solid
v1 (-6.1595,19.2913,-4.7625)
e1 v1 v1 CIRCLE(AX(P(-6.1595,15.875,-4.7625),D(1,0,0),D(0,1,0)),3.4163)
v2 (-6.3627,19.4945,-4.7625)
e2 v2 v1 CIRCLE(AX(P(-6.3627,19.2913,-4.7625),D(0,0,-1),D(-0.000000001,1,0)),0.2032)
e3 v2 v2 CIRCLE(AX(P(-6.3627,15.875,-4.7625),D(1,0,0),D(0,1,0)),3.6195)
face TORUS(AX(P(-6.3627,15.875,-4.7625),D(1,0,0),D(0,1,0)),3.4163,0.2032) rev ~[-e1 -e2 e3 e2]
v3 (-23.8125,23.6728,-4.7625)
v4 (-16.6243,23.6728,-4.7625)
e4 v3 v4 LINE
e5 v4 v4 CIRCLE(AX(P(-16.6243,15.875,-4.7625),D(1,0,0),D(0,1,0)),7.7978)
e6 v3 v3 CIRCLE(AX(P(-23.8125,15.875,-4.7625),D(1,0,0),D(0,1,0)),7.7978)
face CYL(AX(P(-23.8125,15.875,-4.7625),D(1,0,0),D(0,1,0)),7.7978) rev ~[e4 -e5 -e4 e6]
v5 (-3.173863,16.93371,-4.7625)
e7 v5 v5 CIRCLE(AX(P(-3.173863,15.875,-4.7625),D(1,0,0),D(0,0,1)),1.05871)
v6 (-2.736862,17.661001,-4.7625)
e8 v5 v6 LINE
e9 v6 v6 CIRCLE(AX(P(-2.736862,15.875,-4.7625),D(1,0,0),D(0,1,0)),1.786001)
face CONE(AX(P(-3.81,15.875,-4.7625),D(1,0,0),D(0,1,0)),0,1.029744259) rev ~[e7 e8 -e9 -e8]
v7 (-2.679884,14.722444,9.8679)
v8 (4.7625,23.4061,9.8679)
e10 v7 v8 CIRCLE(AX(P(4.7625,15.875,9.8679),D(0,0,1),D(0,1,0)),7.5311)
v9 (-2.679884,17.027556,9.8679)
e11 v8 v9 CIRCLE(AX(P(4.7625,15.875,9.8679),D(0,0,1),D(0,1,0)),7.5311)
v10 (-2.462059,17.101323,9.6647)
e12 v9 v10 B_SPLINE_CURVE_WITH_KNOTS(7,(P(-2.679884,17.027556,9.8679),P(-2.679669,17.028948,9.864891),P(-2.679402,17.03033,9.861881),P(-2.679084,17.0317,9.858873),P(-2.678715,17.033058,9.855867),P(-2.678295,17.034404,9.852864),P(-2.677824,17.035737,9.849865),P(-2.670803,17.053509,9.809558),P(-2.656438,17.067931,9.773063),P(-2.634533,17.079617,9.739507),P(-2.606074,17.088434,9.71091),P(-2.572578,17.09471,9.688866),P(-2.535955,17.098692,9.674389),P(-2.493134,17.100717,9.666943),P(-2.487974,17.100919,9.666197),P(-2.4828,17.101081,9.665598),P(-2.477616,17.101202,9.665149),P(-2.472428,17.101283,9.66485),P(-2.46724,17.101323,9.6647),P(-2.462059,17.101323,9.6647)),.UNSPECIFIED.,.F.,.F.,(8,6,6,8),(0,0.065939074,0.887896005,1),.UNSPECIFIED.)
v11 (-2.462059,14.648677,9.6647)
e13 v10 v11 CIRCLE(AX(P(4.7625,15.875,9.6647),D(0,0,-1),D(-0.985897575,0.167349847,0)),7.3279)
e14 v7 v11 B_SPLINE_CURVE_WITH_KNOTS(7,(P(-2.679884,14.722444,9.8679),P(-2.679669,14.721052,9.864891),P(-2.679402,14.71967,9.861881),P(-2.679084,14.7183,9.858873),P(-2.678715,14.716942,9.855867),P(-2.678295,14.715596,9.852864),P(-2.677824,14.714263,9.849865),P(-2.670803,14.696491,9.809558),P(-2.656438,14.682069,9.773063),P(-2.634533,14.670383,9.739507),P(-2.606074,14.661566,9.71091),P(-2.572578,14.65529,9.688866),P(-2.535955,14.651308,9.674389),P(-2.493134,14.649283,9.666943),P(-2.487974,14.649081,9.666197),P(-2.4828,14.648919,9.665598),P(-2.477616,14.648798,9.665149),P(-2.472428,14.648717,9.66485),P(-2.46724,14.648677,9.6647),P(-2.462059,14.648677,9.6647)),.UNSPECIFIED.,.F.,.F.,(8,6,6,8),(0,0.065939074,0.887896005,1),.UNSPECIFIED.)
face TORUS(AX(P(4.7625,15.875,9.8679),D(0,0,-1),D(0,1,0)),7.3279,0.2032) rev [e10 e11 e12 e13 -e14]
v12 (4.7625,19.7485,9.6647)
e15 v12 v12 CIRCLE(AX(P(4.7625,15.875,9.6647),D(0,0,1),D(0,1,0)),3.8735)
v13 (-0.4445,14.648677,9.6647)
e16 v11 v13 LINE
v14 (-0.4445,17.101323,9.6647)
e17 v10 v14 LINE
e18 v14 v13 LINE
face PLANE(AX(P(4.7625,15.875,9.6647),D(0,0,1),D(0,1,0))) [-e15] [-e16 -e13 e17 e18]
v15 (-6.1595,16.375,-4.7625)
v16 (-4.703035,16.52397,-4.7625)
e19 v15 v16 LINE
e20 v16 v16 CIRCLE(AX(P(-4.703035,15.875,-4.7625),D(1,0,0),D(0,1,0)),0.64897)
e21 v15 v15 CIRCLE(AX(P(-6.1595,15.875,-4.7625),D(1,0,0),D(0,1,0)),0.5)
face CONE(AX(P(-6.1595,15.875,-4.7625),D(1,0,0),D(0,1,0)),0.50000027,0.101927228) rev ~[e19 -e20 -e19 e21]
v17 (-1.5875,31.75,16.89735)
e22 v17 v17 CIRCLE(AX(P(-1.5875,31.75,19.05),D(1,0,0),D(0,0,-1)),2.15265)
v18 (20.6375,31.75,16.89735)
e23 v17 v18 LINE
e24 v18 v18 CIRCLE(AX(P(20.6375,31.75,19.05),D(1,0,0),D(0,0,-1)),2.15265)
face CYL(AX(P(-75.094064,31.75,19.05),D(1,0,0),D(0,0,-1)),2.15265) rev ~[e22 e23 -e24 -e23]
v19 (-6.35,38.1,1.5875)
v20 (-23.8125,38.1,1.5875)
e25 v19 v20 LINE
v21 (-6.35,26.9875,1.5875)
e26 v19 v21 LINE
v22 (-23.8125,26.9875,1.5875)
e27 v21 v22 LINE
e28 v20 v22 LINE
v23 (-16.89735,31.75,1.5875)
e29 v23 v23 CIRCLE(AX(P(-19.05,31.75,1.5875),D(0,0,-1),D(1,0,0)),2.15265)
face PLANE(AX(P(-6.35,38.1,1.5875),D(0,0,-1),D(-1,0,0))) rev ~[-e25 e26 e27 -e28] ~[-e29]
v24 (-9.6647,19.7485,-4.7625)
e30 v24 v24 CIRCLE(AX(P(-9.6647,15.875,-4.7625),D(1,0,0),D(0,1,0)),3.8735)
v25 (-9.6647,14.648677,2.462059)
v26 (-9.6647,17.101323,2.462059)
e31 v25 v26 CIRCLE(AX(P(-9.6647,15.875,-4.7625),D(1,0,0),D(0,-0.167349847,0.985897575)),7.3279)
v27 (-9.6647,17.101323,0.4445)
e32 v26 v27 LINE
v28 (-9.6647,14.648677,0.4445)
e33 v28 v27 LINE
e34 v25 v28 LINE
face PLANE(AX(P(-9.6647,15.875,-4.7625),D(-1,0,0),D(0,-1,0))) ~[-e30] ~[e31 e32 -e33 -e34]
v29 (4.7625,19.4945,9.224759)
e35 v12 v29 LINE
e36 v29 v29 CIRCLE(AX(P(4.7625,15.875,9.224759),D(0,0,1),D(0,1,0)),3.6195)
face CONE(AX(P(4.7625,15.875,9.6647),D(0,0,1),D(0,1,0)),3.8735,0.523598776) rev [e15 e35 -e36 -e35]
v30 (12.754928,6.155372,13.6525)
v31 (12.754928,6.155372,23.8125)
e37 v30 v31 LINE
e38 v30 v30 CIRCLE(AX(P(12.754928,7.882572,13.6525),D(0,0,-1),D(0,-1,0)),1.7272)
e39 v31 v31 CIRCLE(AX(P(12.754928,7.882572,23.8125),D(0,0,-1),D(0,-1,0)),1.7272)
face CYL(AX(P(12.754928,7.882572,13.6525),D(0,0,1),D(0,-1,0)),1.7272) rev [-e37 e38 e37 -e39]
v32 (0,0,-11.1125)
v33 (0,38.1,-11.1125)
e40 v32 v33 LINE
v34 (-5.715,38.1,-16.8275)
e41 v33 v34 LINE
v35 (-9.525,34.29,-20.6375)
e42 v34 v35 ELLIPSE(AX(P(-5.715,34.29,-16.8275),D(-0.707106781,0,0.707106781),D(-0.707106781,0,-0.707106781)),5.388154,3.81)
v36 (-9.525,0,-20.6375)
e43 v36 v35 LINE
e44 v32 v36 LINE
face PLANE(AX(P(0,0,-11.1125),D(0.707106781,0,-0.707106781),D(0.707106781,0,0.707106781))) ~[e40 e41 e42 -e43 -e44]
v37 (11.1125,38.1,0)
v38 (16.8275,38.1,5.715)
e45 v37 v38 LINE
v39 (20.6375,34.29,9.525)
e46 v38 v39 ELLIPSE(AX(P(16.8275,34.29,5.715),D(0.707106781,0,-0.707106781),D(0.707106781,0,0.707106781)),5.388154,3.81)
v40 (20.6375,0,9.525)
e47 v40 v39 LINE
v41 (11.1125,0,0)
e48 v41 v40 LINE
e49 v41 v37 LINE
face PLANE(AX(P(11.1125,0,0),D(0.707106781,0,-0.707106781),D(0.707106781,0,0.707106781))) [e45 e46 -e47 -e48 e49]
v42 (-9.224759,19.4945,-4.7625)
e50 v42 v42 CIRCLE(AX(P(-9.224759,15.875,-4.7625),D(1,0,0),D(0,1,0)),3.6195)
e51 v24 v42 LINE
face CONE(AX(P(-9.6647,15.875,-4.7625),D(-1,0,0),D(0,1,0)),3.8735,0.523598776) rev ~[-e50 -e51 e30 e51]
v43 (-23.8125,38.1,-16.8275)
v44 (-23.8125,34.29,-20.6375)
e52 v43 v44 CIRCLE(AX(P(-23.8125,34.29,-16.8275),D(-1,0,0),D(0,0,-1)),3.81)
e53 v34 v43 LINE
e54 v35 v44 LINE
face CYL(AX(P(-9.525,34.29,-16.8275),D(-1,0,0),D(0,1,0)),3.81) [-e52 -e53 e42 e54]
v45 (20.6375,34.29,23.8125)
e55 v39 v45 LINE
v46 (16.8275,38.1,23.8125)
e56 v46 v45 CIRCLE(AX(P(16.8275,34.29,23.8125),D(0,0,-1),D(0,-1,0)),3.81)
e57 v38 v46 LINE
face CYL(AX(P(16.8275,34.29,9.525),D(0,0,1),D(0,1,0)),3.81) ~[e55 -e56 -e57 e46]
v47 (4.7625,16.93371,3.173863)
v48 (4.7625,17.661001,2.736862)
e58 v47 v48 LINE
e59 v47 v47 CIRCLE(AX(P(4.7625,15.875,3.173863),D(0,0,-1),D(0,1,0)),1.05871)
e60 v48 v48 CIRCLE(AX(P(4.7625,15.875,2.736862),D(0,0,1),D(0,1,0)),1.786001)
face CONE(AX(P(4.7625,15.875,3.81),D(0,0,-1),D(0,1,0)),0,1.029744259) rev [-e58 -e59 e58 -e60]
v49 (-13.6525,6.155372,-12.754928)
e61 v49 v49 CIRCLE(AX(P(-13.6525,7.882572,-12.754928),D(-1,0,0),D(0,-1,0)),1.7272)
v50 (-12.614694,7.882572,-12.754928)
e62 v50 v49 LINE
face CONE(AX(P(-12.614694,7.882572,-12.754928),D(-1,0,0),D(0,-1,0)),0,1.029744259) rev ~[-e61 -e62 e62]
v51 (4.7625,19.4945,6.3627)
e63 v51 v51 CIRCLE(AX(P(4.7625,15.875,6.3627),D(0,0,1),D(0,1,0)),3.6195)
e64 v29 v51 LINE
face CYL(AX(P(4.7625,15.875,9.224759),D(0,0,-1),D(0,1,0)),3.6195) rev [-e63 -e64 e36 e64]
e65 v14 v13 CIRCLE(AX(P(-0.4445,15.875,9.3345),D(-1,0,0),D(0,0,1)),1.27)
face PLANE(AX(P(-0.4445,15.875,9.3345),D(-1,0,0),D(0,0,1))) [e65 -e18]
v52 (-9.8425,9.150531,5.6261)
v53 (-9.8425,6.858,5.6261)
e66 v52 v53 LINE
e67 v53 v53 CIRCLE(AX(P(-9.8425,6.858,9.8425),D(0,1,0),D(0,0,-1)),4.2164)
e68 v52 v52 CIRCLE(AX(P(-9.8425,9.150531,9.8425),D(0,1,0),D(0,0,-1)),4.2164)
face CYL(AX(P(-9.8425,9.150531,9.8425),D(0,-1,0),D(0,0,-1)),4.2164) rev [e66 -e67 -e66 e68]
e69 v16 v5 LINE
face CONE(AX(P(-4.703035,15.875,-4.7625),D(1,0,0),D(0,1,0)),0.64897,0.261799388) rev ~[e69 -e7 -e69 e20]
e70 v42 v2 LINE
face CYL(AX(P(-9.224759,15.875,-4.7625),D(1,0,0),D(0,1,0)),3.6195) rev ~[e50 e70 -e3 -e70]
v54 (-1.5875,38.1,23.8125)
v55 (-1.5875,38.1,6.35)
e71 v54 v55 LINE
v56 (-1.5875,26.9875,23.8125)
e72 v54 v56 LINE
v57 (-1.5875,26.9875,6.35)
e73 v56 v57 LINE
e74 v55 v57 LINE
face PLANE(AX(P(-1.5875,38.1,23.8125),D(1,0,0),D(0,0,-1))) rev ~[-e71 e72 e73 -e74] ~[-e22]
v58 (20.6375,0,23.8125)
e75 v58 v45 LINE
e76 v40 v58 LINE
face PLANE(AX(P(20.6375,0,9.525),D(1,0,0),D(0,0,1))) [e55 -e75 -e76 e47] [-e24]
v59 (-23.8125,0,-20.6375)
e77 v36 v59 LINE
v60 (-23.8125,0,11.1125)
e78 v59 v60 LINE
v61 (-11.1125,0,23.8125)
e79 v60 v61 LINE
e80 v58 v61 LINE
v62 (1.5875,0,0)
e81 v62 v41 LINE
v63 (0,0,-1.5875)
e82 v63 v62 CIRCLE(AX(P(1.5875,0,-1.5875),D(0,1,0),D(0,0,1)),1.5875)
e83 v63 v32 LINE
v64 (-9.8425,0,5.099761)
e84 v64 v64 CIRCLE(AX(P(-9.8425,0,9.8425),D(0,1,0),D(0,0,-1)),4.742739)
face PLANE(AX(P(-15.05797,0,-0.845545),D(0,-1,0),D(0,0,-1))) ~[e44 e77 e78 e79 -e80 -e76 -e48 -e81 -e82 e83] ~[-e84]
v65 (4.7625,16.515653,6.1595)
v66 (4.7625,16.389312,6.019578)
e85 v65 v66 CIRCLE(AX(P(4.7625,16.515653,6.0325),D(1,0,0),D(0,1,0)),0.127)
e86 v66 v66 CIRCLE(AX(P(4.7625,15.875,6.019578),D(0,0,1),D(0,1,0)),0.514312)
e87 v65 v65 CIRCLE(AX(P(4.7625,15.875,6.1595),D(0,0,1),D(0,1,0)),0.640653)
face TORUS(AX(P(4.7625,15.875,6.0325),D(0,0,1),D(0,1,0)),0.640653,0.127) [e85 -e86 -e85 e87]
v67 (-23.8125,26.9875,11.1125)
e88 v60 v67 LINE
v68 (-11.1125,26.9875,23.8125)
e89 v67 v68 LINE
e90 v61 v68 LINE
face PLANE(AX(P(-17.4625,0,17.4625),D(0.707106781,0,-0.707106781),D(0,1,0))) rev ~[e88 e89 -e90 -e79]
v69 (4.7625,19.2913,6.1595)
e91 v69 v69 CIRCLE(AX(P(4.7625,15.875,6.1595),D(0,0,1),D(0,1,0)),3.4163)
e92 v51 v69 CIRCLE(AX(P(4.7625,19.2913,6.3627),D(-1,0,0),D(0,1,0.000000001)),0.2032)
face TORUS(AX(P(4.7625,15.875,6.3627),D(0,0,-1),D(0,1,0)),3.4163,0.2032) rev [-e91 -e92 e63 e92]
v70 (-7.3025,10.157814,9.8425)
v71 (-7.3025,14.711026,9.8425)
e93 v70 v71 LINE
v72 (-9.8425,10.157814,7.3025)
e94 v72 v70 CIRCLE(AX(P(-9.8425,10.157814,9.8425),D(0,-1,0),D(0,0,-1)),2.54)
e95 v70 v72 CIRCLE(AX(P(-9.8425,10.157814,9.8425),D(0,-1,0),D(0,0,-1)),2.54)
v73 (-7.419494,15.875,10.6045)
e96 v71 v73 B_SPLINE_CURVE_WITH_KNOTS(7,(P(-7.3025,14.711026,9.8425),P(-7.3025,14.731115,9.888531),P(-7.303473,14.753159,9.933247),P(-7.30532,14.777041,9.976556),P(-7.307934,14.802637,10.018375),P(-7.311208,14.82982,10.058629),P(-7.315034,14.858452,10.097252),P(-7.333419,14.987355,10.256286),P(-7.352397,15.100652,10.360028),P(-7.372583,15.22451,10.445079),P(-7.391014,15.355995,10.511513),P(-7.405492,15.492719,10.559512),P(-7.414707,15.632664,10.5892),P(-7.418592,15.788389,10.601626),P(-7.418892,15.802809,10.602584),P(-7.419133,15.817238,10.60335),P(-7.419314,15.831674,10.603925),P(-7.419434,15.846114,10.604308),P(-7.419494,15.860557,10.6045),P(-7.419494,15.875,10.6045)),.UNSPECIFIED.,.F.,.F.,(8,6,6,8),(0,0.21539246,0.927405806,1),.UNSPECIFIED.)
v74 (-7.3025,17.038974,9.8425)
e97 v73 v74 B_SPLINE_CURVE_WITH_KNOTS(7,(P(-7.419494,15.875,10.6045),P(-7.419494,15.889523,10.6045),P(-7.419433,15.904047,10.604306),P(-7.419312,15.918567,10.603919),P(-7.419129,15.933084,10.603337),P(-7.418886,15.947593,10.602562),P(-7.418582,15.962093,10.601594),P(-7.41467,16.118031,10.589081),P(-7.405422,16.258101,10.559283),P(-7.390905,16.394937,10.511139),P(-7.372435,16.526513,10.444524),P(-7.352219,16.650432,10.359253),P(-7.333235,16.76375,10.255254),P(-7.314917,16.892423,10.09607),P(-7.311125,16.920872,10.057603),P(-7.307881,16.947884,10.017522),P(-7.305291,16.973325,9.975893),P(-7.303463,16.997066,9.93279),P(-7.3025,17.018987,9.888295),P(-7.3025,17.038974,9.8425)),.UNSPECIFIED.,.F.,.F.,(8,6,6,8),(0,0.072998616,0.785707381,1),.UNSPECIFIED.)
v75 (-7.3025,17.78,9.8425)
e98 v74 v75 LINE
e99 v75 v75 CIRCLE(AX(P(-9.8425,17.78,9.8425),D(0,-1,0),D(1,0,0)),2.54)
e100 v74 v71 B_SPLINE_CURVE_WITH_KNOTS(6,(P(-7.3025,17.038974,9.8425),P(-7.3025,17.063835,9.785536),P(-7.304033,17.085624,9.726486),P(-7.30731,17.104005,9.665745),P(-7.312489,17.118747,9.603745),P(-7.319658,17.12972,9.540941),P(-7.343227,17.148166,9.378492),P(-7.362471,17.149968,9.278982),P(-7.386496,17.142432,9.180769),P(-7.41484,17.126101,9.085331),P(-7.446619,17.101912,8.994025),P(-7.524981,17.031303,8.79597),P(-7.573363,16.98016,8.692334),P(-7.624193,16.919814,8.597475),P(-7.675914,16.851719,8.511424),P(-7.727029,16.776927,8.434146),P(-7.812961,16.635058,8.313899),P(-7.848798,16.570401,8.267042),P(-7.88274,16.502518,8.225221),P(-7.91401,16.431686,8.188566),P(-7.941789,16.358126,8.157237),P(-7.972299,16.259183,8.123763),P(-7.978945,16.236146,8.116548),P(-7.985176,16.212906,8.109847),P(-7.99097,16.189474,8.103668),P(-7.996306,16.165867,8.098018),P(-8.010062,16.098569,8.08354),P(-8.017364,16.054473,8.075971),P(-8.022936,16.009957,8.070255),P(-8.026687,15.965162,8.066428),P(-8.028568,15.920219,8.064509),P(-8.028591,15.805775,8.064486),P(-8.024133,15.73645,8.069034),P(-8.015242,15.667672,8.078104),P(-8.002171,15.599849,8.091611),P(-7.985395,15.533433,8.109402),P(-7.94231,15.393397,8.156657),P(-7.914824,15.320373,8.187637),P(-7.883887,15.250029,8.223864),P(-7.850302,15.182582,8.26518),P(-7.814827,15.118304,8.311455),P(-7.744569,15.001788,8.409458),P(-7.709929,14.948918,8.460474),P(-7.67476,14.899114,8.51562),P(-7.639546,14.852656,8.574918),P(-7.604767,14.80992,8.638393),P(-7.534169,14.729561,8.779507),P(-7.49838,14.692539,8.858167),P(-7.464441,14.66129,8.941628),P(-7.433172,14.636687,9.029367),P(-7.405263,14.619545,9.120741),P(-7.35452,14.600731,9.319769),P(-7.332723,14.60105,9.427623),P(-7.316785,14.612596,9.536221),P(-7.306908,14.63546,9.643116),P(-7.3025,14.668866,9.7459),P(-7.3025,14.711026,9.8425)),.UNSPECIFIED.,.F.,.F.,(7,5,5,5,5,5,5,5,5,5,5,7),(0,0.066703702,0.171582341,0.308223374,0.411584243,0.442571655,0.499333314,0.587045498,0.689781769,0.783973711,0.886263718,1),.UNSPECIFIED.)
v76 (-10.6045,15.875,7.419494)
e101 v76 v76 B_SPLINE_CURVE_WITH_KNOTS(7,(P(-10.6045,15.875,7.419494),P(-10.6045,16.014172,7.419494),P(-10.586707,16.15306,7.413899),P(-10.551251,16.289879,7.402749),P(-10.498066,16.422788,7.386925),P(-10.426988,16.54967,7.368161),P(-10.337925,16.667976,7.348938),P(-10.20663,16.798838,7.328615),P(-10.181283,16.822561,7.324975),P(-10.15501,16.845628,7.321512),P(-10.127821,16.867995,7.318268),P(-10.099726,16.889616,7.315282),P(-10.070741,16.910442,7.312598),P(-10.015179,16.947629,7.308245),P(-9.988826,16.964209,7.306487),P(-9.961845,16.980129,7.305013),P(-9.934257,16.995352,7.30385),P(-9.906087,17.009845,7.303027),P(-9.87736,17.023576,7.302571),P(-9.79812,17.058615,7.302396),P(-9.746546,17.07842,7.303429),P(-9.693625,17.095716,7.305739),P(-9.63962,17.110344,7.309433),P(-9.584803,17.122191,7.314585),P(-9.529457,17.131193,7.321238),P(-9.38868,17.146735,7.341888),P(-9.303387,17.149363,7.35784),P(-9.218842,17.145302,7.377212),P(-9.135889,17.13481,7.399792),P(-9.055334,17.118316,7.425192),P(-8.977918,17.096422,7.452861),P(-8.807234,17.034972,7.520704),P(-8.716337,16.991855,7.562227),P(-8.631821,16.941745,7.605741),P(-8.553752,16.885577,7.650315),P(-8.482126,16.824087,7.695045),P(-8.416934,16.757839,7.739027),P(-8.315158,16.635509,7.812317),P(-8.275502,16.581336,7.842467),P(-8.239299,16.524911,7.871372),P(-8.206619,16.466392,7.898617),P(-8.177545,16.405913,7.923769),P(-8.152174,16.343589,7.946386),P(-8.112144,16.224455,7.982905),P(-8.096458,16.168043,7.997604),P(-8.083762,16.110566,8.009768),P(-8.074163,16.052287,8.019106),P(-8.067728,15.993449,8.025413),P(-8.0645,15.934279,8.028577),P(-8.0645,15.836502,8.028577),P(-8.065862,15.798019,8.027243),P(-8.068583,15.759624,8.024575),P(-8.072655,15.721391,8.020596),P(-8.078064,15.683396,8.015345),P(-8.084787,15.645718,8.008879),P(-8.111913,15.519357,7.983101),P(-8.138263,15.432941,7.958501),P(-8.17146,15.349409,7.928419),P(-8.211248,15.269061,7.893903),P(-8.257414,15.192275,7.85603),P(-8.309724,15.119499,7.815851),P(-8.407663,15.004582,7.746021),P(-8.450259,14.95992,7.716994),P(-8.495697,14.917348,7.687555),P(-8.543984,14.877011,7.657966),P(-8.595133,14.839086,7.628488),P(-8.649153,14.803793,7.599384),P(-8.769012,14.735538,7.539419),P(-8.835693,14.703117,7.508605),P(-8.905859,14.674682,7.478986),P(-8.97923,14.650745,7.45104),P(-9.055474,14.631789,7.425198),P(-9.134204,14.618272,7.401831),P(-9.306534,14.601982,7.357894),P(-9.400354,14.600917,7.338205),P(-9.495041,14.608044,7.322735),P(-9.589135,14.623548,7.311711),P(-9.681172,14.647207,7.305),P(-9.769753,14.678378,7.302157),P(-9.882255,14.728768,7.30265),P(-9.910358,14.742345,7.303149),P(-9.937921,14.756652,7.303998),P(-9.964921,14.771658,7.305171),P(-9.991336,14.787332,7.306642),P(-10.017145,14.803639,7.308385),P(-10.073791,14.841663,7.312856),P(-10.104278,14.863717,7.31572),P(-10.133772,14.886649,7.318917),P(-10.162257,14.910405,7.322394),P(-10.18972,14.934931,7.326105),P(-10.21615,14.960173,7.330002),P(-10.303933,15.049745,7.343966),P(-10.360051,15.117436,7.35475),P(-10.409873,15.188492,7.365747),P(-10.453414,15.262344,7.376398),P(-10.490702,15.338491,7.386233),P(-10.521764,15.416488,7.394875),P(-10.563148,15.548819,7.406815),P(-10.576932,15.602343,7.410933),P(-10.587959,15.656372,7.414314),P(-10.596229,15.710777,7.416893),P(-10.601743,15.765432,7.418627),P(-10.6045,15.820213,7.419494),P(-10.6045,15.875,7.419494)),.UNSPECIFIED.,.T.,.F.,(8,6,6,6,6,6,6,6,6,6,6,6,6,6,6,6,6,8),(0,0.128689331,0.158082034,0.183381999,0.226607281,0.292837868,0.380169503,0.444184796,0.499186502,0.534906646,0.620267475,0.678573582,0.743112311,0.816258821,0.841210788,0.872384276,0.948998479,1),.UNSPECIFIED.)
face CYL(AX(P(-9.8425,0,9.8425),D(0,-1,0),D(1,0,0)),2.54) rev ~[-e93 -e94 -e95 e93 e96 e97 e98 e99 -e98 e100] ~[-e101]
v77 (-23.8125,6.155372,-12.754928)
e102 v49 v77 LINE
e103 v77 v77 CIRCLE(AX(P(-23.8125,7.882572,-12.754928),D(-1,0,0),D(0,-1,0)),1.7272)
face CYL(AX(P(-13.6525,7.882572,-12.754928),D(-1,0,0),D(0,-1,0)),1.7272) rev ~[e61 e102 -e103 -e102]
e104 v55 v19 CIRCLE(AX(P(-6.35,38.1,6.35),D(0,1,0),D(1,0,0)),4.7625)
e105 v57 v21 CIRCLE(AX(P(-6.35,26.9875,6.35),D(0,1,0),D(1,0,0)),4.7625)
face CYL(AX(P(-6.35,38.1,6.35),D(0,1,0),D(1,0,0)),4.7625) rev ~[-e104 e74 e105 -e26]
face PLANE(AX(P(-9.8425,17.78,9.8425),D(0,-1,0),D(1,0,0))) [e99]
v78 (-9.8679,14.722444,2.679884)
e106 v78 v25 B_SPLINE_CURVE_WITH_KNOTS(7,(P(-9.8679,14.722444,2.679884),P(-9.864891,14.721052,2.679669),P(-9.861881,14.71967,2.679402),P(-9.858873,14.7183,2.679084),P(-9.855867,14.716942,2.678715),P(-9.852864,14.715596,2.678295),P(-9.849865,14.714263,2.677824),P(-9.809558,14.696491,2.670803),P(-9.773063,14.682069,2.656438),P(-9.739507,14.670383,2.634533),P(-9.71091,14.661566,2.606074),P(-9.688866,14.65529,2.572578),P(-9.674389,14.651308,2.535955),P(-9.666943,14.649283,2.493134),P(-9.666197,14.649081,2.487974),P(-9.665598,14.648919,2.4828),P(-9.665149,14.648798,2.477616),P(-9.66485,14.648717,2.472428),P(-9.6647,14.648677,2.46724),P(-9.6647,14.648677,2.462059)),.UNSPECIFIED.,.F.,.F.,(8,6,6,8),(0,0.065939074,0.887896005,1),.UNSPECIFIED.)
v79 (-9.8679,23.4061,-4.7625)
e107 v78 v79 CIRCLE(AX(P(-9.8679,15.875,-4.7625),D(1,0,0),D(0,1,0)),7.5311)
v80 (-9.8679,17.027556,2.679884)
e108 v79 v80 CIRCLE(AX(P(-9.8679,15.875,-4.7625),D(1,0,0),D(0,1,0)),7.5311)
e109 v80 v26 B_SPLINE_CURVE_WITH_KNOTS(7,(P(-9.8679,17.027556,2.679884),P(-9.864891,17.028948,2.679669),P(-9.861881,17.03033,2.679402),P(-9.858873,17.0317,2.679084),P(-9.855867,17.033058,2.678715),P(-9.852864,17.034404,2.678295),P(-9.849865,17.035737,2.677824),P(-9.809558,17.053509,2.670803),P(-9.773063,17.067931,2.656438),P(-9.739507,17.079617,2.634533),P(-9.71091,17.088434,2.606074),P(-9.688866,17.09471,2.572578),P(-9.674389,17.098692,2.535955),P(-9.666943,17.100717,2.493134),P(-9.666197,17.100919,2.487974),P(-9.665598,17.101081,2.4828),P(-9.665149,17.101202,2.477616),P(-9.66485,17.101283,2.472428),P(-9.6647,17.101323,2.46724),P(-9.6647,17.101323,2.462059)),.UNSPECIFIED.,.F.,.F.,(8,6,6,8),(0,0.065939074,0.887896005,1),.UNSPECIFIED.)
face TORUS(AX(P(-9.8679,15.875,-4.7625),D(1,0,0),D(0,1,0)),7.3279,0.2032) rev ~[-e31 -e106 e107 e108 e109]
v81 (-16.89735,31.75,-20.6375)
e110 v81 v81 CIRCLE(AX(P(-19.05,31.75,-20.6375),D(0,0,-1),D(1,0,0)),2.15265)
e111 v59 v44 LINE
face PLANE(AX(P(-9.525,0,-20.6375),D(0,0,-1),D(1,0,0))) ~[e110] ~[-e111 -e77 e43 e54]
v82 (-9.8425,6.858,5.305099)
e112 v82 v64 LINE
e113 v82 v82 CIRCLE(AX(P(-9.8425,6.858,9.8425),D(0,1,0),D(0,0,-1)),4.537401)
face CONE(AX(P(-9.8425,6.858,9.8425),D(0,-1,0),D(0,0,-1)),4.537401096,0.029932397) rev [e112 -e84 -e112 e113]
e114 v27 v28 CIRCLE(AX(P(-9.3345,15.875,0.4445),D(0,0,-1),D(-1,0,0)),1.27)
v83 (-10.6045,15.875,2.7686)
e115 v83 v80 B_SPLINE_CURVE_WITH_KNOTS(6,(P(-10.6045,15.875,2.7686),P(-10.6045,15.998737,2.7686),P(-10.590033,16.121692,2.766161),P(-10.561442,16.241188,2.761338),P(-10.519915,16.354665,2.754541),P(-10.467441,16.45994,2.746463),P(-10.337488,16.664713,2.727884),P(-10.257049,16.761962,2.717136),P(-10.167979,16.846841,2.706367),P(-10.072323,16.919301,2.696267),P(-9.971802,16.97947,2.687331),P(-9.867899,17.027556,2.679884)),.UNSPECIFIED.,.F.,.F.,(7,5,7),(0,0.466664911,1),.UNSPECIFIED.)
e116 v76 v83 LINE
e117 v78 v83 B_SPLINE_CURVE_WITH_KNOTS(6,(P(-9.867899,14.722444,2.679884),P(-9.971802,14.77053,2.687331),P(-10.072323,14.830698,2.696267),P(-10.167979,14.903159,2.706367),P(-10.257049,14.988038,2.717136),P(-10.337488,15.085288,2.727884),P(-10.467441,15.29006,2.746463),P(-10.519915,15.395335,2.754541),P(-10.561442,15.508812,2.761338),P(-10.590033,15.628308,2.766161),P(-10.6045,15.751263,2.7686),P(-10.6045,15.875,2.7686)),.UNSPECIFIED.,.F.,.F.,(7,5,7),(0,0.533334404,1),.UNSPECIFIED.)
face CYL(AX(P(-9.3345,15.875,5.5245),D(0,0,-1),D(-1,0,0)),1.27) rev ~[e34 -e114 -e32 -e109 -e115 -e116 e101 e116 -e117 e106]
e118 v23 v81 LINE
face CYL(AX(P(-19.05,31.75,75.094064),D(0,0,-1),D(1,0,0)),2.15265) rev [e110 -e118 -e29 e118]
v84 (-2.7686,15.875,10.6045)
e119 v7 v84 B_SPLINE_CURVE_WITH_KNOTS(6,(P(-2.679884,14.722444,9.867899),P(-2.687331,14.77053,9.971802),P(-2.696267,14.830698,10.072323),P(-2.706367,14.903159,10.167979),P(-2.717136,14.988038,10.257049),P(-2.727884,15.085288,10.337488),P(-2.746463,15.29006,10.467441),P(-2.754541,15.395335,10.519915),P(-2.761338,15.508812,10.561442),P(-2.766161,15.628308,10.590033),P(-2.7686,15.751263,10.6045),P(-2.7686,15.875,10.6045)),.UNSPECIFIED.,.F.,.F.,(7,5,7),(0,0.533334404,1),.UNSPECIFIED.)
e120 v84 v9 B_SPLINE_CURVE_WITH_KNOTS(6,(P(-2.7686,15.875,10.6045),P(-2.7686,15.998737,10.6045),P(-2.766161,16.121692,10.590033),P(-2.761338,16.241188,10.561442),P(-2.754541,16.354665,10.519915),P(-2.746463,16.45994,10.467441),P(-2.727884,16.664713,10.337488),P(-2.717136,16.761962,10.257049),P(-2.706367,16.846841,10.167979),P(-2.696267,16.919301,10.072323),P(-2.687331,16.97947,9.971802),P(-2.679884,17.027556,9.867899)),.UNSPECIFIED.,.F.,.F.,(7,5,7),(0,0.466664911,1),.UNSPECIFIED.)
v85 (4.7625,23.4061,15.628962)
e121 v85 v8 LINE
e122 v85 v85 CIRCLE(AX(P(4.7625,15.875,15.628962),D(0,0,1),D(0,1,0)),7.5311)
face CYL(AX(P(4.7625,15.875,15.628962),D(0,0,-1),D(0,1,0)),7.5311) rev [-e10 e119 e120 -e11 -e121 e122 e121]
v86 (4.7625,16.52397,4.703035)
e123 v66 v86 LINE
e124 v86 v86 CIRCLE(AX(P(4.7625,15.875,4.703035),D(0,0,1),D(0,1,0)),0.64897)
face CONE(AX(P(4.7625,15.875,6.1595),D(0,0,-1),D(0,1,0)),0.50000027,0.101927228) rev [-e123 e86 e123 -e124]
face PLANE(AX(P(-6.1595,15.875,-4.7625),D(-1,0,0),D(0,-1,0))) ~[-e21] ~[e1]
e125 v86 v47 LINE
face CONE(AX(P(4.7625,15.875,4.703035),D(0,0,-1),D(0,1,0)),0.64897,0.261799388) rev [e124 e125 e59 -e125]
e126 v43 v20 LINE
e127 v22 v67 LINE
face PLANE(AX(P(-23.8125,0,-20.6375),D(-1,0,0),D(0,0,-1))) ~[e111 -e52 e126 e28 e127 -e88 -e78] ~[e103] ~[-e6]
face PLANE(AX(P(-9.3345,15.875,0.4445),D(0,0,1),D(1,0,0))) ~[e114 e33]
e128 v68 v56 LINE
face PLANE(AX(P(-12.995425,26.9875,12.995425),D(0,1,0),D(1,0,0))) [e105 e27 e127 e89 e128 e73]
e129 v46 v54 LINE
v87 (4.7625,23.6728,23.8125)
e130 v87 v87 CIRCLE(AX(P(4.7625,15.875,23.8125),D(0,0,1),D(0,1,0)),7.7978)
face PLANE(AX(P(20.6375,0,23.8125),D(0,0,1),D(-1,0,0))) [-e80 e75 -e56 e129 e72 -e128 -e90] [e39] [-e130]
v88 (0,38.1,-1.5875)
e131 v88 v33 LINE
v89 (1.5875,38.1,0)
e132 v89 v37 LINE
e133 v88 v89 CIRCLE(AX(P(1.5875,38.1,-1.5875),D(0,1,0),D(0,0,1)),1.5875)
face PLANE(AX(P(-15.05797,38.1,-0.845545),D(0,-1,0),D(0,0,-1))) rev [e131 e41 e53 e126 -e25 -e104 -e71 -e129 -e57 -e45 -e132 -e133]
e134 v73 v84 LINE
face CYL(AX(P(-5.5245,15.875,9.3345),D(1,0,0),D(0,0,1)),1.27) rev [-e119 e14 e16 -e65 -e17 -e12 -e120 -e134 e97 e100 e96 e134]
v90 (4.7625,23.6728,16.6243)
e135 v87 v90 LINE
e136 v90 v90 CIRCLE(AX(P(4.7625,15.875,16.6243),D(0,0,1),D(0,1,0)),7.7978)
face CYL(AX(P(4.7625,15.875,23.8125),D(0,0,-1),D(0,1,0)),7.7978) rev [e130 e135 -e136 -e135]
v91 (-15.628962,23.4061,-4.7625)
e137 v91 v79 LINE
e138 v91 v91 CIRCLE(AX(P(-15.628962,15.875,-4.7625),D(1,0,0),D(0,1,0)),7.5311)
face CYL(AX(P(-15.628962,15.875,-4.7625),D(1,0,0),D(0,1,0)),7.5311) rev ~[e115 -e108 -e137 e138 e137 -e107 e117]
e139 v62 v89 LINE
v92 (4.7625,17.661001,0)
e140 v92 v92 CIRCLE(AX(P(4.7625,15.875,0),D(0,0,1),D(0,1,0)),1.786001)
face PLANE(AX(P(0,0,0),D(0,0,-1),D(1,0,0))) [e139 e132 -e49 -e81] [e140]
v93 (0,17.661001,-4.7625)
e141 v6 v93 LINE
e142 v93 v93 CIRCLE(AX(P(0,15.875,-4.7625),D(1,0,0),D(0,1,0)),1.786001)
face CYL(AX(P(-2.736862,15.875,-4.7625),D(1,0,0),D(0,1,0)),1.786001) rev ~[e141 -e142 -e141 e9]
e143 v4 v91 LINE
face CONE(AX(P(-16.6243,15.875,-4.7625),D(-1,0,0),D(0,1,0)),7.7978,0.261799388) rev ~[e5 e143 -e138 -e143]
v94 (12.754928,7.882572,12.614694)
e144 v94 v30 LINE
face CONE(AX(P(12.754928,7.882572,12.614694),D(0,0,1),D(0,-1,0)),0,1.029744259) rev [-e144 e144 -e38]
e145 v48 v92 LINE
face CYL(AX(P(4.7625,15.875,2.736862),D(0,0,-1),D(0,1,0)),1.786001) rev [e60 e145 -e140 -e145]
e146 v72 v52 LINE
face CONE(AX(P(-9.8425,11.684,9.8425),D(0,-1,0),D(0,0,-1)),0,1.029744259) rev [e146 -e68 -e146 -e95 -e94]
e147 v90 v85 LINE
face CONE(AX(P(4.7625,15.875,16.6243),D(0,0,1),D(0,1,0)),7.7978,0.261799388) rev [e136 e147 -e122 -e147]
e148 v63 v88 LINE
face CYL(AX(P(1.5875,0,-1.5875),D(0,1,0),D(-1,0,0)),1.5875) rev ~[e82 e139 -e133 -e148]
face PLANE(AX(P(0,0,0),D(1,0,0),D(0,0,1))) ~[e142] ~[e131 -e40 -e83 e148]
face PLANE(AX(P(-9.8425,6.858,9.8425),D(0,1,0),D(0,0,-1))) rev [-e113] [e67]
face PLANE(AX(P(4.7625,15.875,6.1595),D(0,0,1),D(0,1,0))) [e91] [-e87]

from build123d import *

# Parameters (mm, degrees)
BOSS_EXTRUDE2_DEPTH          = 38.1
FILLET3_R                    = 0.127
FILLET16_R                   = 3.81
CUT_EXTRUDE3_DEPTH           = 11.1125
F_18_0_1695_DIAMETER_HOLE1_D = 4.3053
SKETCH101_R                  = 2.54
CUT_EXTRUDE4_DEPTH           = 17.78
SKETCH102_W                  = 10.16
SKETCH102_H                  = 1.27
CHAMFER1_SIZE                = 12.7
FILLET17_R                   = 1.5875


with BuildPart() as part:
    # Sketch7 → Boss-Extrude2 (new body)
    with BuildSketch(Plane(origin=(0, 0, 0), x_dir=(1, 0, 0), z_dir=(0, 1, 0))):
        Polygon((0, 0), (11.1125, 0), (20.6375, -9.525), (20.6375, -23.8125), (-23.8125, -23.8125), align=None)
    boss_extrude2 = extrude(amount=BOSS_EXTRUDE2_DEPTH)

    # Sketch24 → Port Manifold (revolve, cut)
    with BuildSketch(Plane.ZY.offset(-4.7625)):
        with BuildLine():
            Line((23.8125, 15.875), (23.8125, 23.6728))
            Line((23.8125, 23.6728), (16.6243, 23.6728))
            Line((16.6243, 23.6728), (15.62896205, 23.4061))
            Line((15.62896205, 23.4061), (9.8679, 23.4061))
            ThreePointArc((9.8679, 23.4061), (9.724215902, 23.346584098), (9.6647, 23.2029))
            Line((9.6647, 23.2029), (9.6647, 19.7485))
            Line((9.6647, 19.7485), (9.224759095, 19.4945))
            Line((9.224759095, 19.4945), (6.3627, 19.4945))
            ThreePointArc((6.3627, 19.4945), (6.219015902, 19.434984098), (6.1595, 19.2913))
            Line((6.1595, 19.2913), (6.1595, 16.37500027))
            Line((6.1595, 16.37500027), (4.703034592, 16.52397))
            Line((4.703034592, 16.52397), (1.4605, 17.392804525))
            Line((1.4605, 17.392804525), (1.4605, 15.875))
            Line((1.4605, 15.875), (23.8125, 15.875))
        make_face()
    port_manifold = revolve(axis=Axis((4.7625, 15.875, 1.4605), (0, 0, 1)), mode=Mode.SUBTRACT)

    # Fillet3
    fillet3_edges = [part.edges().sort_by_distance(p)[0] for p in [
        (4.7625, 15.37499973, 6.1595),
    ]]
    fillet(fillet3_edges, radius=FILLET3_R)

    # Sketch27 → #8-32 Tapped Hole1 (revolve, cut)
    with BuildSketch(Plane(origin=(12.754927948, 7.882572052, 23.8125), x_dir=(0, -1, 0), z_dir=(1, 0, 0))):
        Polygon((0, 0), (0, 11.197806461), (1.7272, 10.16), (1.7272, 0), align=None)
    f_8_32_tapped_hole1 = revolve(axis=Axis((12.754927948, 7.882572052, 30.1625), (0, 0, -1)), mode=Mode.SUBTRACT)

    # Sketch90 → 9/64 (0.14063) Diameter Hole1 (revolve, cut)
    with BuildSketch(Plane(origin=(4.7625, 15.875, 0), x_dir=(0, 1, 0), z_dir=(1, 0, 0))):
        Polygon((0, 0), (0, 3.81), (1.786001, 2.736862334), (1.786001, 0), align=None)
    f_9_64_0_14063_diameter_hole1 = revolve(axis=Axis((4.7625, 15.875, -6.35), (0, 0, 1)), mode=Mode.SUBTRACT)

    # Mirror6: Boss-Extrude2, Port Manifold, #8-32 Tapped Hole1, 9/64 (0.14063) Diameter Hole1 across Plane1
    add(boss_extrude2.mirror(Plane(origin=(0, 0, 0), x_dir=(0.707106781, 0, -0.707106781), z_dir=(0.707106781, 0, 0.707106781))))
    add(port_manifold.mirror(Plane(origin=(0, 0, 0), x_dir=(0.707106781, 0, -0.707106781), z_dir=(0.707106781, 0, 0.707106781))), mode=Mode.SUBTRACT)
    add(f_8_32_tapped_hole1.mirror(Plane(origin=(0, 0, 0), x_dir=(0.707106781, 0, -0.707106781), z_dir=(0.707106781, 0, 0.707106781))), mode=Mode.SUBTRACT)
    add(f_9_64_0_14063_diameter_hole1.mirror(Plane(origin=(0, 0, 0), x_dir=(0.707106781, 0, -0.707106781), z_dir=(0.707106781, 0, 0.707106781))), mode=Mode.SUBTRACT)

    # Fillet16
    fillet16_edges = [part.edges().sort_by_distance(p)[0] for p in [
        (20.6375, 38.1, 16.66875),
        (-16.66875, 38.1, -20.6375),
    ]]
    fillet(fillet16_edges, radius=FILLET16_R)

    # Sketch93 → Cut-Extrude3 (cut)
    with BuildSketch(Plane(origin=(0, 38.1, 0), x_dir=(1, 0, 0), z_dir=(0, 1, 0))):
        with BuildLine():
            Line((-23.8125, -23.8125), (-1.5875, -23.8125))
            Line((-1.5875, -23.8125), (-1.5875, -6.35))
            ThreePointArc((-1.5875, -6.35), (-2.982403955, -2.982403955), (-6.35, -1.5875))
            Line((-6.35, -1.5875), (-23.8125, -1.5875))
            Line((-23.8125, -1.5875), (-23.8125, -23.8125))
        make_face()
    extrude(amount=-CUT_EXTRUDE3_DEPTH, mode=Mode.SUBTRACT)

    # #18 (0.1695) Diameter Hole1 (through all)
    with Locations(Plane.ZY.offset(1.5875)):
        with Locations((19.05, 31.75)):
            f_18_0_1695_diameter_hole1 = Hole(F_18_0_1695_DIAMETER_HOLE1_D / 2)

    # Mirror9: #18 (0.1695) Diameter Hole1 across plane
    add(f_18_0_1695_diameter_hole1.mirror(Plane(origin=(0, 0, 0), x_dir=(-0.707106781, 0, 0.707106781), z_dir=(0.707106781, 0, 0.707106781))), mode=Mode.SUBTRACT)

    # Sketch101 → Cut-Extrude4 (cut)
    with BuildSketch(Plane.XZ):
        with Locations((-9.8425, 9.8425)):
            Circle(SKETCH101_R)
    extrude(amount=-CUT_EXTRUDE4_DEPTH, mode=Mode.SUBTRACT)

    # Sketch102 → Cut-Revolve1 (revolve, cut)
    with BuildSketch(Plane(origin=(0, 15.875, 0), x_dir=(1, 0, 0), z_dir=(0, 1, 0))):
        with Locations((-5.5245, -9.9695)):
            Rectangle(SKETCH102_W, SKETCH102_H)
    cut_revolve1 = revolve(axis=Axis((-0.4445, 15.875, 9.3345), (-1, 0, 0)), mode=Mode.SUBTRACT)

    # Mirror10: Cut-Revolve1 across plane
    add(cut_revolve1.mirror(Plane(origin=(0, 0, 0), x_dir=(-0.707106781, 0, 0.707106781), z_dir=(0.707106781, 0, 0.707106781))), mode=Mode.SUBTRACT)

    # Chamfer1
    chamfer1_edges = [part.edges().sort_by_distance(p)[0] for p in [
        (-23.8125, 13.49375, 23.8125),
    ]]
    chamfer(chamfer1_edges, length=CHAMFER1_SIZE)

    # Fillet17
    fillet17_edges = [part.edges().sort_by_distance(p)[0] for p in [
        (0, 19.05, 0),
    ]]
    fillet(fillet17_edges, radius=FILLET17_R)

    # Sketch104 → 1/8 NPT Tapped Hole1 (revolve, cut)
    with BuildSketch(Plane(origin=(-9.8425, 0, 9.8425), x_dir=(0, 0, -1), z_dir=(1, 0, 0))):
        Polygon((0, 0), (0, 11.684), (4.2164, 9.150531286), (4.2164, 6.858), (4.537401096, 6.858), (4.7427388, 0), align=None)
    revolve(axis=Axis((-9.8425, -6.35, 9.8425), (0, 1, 0)), mode=Mode.SUBTRACT)


solid = part.part
